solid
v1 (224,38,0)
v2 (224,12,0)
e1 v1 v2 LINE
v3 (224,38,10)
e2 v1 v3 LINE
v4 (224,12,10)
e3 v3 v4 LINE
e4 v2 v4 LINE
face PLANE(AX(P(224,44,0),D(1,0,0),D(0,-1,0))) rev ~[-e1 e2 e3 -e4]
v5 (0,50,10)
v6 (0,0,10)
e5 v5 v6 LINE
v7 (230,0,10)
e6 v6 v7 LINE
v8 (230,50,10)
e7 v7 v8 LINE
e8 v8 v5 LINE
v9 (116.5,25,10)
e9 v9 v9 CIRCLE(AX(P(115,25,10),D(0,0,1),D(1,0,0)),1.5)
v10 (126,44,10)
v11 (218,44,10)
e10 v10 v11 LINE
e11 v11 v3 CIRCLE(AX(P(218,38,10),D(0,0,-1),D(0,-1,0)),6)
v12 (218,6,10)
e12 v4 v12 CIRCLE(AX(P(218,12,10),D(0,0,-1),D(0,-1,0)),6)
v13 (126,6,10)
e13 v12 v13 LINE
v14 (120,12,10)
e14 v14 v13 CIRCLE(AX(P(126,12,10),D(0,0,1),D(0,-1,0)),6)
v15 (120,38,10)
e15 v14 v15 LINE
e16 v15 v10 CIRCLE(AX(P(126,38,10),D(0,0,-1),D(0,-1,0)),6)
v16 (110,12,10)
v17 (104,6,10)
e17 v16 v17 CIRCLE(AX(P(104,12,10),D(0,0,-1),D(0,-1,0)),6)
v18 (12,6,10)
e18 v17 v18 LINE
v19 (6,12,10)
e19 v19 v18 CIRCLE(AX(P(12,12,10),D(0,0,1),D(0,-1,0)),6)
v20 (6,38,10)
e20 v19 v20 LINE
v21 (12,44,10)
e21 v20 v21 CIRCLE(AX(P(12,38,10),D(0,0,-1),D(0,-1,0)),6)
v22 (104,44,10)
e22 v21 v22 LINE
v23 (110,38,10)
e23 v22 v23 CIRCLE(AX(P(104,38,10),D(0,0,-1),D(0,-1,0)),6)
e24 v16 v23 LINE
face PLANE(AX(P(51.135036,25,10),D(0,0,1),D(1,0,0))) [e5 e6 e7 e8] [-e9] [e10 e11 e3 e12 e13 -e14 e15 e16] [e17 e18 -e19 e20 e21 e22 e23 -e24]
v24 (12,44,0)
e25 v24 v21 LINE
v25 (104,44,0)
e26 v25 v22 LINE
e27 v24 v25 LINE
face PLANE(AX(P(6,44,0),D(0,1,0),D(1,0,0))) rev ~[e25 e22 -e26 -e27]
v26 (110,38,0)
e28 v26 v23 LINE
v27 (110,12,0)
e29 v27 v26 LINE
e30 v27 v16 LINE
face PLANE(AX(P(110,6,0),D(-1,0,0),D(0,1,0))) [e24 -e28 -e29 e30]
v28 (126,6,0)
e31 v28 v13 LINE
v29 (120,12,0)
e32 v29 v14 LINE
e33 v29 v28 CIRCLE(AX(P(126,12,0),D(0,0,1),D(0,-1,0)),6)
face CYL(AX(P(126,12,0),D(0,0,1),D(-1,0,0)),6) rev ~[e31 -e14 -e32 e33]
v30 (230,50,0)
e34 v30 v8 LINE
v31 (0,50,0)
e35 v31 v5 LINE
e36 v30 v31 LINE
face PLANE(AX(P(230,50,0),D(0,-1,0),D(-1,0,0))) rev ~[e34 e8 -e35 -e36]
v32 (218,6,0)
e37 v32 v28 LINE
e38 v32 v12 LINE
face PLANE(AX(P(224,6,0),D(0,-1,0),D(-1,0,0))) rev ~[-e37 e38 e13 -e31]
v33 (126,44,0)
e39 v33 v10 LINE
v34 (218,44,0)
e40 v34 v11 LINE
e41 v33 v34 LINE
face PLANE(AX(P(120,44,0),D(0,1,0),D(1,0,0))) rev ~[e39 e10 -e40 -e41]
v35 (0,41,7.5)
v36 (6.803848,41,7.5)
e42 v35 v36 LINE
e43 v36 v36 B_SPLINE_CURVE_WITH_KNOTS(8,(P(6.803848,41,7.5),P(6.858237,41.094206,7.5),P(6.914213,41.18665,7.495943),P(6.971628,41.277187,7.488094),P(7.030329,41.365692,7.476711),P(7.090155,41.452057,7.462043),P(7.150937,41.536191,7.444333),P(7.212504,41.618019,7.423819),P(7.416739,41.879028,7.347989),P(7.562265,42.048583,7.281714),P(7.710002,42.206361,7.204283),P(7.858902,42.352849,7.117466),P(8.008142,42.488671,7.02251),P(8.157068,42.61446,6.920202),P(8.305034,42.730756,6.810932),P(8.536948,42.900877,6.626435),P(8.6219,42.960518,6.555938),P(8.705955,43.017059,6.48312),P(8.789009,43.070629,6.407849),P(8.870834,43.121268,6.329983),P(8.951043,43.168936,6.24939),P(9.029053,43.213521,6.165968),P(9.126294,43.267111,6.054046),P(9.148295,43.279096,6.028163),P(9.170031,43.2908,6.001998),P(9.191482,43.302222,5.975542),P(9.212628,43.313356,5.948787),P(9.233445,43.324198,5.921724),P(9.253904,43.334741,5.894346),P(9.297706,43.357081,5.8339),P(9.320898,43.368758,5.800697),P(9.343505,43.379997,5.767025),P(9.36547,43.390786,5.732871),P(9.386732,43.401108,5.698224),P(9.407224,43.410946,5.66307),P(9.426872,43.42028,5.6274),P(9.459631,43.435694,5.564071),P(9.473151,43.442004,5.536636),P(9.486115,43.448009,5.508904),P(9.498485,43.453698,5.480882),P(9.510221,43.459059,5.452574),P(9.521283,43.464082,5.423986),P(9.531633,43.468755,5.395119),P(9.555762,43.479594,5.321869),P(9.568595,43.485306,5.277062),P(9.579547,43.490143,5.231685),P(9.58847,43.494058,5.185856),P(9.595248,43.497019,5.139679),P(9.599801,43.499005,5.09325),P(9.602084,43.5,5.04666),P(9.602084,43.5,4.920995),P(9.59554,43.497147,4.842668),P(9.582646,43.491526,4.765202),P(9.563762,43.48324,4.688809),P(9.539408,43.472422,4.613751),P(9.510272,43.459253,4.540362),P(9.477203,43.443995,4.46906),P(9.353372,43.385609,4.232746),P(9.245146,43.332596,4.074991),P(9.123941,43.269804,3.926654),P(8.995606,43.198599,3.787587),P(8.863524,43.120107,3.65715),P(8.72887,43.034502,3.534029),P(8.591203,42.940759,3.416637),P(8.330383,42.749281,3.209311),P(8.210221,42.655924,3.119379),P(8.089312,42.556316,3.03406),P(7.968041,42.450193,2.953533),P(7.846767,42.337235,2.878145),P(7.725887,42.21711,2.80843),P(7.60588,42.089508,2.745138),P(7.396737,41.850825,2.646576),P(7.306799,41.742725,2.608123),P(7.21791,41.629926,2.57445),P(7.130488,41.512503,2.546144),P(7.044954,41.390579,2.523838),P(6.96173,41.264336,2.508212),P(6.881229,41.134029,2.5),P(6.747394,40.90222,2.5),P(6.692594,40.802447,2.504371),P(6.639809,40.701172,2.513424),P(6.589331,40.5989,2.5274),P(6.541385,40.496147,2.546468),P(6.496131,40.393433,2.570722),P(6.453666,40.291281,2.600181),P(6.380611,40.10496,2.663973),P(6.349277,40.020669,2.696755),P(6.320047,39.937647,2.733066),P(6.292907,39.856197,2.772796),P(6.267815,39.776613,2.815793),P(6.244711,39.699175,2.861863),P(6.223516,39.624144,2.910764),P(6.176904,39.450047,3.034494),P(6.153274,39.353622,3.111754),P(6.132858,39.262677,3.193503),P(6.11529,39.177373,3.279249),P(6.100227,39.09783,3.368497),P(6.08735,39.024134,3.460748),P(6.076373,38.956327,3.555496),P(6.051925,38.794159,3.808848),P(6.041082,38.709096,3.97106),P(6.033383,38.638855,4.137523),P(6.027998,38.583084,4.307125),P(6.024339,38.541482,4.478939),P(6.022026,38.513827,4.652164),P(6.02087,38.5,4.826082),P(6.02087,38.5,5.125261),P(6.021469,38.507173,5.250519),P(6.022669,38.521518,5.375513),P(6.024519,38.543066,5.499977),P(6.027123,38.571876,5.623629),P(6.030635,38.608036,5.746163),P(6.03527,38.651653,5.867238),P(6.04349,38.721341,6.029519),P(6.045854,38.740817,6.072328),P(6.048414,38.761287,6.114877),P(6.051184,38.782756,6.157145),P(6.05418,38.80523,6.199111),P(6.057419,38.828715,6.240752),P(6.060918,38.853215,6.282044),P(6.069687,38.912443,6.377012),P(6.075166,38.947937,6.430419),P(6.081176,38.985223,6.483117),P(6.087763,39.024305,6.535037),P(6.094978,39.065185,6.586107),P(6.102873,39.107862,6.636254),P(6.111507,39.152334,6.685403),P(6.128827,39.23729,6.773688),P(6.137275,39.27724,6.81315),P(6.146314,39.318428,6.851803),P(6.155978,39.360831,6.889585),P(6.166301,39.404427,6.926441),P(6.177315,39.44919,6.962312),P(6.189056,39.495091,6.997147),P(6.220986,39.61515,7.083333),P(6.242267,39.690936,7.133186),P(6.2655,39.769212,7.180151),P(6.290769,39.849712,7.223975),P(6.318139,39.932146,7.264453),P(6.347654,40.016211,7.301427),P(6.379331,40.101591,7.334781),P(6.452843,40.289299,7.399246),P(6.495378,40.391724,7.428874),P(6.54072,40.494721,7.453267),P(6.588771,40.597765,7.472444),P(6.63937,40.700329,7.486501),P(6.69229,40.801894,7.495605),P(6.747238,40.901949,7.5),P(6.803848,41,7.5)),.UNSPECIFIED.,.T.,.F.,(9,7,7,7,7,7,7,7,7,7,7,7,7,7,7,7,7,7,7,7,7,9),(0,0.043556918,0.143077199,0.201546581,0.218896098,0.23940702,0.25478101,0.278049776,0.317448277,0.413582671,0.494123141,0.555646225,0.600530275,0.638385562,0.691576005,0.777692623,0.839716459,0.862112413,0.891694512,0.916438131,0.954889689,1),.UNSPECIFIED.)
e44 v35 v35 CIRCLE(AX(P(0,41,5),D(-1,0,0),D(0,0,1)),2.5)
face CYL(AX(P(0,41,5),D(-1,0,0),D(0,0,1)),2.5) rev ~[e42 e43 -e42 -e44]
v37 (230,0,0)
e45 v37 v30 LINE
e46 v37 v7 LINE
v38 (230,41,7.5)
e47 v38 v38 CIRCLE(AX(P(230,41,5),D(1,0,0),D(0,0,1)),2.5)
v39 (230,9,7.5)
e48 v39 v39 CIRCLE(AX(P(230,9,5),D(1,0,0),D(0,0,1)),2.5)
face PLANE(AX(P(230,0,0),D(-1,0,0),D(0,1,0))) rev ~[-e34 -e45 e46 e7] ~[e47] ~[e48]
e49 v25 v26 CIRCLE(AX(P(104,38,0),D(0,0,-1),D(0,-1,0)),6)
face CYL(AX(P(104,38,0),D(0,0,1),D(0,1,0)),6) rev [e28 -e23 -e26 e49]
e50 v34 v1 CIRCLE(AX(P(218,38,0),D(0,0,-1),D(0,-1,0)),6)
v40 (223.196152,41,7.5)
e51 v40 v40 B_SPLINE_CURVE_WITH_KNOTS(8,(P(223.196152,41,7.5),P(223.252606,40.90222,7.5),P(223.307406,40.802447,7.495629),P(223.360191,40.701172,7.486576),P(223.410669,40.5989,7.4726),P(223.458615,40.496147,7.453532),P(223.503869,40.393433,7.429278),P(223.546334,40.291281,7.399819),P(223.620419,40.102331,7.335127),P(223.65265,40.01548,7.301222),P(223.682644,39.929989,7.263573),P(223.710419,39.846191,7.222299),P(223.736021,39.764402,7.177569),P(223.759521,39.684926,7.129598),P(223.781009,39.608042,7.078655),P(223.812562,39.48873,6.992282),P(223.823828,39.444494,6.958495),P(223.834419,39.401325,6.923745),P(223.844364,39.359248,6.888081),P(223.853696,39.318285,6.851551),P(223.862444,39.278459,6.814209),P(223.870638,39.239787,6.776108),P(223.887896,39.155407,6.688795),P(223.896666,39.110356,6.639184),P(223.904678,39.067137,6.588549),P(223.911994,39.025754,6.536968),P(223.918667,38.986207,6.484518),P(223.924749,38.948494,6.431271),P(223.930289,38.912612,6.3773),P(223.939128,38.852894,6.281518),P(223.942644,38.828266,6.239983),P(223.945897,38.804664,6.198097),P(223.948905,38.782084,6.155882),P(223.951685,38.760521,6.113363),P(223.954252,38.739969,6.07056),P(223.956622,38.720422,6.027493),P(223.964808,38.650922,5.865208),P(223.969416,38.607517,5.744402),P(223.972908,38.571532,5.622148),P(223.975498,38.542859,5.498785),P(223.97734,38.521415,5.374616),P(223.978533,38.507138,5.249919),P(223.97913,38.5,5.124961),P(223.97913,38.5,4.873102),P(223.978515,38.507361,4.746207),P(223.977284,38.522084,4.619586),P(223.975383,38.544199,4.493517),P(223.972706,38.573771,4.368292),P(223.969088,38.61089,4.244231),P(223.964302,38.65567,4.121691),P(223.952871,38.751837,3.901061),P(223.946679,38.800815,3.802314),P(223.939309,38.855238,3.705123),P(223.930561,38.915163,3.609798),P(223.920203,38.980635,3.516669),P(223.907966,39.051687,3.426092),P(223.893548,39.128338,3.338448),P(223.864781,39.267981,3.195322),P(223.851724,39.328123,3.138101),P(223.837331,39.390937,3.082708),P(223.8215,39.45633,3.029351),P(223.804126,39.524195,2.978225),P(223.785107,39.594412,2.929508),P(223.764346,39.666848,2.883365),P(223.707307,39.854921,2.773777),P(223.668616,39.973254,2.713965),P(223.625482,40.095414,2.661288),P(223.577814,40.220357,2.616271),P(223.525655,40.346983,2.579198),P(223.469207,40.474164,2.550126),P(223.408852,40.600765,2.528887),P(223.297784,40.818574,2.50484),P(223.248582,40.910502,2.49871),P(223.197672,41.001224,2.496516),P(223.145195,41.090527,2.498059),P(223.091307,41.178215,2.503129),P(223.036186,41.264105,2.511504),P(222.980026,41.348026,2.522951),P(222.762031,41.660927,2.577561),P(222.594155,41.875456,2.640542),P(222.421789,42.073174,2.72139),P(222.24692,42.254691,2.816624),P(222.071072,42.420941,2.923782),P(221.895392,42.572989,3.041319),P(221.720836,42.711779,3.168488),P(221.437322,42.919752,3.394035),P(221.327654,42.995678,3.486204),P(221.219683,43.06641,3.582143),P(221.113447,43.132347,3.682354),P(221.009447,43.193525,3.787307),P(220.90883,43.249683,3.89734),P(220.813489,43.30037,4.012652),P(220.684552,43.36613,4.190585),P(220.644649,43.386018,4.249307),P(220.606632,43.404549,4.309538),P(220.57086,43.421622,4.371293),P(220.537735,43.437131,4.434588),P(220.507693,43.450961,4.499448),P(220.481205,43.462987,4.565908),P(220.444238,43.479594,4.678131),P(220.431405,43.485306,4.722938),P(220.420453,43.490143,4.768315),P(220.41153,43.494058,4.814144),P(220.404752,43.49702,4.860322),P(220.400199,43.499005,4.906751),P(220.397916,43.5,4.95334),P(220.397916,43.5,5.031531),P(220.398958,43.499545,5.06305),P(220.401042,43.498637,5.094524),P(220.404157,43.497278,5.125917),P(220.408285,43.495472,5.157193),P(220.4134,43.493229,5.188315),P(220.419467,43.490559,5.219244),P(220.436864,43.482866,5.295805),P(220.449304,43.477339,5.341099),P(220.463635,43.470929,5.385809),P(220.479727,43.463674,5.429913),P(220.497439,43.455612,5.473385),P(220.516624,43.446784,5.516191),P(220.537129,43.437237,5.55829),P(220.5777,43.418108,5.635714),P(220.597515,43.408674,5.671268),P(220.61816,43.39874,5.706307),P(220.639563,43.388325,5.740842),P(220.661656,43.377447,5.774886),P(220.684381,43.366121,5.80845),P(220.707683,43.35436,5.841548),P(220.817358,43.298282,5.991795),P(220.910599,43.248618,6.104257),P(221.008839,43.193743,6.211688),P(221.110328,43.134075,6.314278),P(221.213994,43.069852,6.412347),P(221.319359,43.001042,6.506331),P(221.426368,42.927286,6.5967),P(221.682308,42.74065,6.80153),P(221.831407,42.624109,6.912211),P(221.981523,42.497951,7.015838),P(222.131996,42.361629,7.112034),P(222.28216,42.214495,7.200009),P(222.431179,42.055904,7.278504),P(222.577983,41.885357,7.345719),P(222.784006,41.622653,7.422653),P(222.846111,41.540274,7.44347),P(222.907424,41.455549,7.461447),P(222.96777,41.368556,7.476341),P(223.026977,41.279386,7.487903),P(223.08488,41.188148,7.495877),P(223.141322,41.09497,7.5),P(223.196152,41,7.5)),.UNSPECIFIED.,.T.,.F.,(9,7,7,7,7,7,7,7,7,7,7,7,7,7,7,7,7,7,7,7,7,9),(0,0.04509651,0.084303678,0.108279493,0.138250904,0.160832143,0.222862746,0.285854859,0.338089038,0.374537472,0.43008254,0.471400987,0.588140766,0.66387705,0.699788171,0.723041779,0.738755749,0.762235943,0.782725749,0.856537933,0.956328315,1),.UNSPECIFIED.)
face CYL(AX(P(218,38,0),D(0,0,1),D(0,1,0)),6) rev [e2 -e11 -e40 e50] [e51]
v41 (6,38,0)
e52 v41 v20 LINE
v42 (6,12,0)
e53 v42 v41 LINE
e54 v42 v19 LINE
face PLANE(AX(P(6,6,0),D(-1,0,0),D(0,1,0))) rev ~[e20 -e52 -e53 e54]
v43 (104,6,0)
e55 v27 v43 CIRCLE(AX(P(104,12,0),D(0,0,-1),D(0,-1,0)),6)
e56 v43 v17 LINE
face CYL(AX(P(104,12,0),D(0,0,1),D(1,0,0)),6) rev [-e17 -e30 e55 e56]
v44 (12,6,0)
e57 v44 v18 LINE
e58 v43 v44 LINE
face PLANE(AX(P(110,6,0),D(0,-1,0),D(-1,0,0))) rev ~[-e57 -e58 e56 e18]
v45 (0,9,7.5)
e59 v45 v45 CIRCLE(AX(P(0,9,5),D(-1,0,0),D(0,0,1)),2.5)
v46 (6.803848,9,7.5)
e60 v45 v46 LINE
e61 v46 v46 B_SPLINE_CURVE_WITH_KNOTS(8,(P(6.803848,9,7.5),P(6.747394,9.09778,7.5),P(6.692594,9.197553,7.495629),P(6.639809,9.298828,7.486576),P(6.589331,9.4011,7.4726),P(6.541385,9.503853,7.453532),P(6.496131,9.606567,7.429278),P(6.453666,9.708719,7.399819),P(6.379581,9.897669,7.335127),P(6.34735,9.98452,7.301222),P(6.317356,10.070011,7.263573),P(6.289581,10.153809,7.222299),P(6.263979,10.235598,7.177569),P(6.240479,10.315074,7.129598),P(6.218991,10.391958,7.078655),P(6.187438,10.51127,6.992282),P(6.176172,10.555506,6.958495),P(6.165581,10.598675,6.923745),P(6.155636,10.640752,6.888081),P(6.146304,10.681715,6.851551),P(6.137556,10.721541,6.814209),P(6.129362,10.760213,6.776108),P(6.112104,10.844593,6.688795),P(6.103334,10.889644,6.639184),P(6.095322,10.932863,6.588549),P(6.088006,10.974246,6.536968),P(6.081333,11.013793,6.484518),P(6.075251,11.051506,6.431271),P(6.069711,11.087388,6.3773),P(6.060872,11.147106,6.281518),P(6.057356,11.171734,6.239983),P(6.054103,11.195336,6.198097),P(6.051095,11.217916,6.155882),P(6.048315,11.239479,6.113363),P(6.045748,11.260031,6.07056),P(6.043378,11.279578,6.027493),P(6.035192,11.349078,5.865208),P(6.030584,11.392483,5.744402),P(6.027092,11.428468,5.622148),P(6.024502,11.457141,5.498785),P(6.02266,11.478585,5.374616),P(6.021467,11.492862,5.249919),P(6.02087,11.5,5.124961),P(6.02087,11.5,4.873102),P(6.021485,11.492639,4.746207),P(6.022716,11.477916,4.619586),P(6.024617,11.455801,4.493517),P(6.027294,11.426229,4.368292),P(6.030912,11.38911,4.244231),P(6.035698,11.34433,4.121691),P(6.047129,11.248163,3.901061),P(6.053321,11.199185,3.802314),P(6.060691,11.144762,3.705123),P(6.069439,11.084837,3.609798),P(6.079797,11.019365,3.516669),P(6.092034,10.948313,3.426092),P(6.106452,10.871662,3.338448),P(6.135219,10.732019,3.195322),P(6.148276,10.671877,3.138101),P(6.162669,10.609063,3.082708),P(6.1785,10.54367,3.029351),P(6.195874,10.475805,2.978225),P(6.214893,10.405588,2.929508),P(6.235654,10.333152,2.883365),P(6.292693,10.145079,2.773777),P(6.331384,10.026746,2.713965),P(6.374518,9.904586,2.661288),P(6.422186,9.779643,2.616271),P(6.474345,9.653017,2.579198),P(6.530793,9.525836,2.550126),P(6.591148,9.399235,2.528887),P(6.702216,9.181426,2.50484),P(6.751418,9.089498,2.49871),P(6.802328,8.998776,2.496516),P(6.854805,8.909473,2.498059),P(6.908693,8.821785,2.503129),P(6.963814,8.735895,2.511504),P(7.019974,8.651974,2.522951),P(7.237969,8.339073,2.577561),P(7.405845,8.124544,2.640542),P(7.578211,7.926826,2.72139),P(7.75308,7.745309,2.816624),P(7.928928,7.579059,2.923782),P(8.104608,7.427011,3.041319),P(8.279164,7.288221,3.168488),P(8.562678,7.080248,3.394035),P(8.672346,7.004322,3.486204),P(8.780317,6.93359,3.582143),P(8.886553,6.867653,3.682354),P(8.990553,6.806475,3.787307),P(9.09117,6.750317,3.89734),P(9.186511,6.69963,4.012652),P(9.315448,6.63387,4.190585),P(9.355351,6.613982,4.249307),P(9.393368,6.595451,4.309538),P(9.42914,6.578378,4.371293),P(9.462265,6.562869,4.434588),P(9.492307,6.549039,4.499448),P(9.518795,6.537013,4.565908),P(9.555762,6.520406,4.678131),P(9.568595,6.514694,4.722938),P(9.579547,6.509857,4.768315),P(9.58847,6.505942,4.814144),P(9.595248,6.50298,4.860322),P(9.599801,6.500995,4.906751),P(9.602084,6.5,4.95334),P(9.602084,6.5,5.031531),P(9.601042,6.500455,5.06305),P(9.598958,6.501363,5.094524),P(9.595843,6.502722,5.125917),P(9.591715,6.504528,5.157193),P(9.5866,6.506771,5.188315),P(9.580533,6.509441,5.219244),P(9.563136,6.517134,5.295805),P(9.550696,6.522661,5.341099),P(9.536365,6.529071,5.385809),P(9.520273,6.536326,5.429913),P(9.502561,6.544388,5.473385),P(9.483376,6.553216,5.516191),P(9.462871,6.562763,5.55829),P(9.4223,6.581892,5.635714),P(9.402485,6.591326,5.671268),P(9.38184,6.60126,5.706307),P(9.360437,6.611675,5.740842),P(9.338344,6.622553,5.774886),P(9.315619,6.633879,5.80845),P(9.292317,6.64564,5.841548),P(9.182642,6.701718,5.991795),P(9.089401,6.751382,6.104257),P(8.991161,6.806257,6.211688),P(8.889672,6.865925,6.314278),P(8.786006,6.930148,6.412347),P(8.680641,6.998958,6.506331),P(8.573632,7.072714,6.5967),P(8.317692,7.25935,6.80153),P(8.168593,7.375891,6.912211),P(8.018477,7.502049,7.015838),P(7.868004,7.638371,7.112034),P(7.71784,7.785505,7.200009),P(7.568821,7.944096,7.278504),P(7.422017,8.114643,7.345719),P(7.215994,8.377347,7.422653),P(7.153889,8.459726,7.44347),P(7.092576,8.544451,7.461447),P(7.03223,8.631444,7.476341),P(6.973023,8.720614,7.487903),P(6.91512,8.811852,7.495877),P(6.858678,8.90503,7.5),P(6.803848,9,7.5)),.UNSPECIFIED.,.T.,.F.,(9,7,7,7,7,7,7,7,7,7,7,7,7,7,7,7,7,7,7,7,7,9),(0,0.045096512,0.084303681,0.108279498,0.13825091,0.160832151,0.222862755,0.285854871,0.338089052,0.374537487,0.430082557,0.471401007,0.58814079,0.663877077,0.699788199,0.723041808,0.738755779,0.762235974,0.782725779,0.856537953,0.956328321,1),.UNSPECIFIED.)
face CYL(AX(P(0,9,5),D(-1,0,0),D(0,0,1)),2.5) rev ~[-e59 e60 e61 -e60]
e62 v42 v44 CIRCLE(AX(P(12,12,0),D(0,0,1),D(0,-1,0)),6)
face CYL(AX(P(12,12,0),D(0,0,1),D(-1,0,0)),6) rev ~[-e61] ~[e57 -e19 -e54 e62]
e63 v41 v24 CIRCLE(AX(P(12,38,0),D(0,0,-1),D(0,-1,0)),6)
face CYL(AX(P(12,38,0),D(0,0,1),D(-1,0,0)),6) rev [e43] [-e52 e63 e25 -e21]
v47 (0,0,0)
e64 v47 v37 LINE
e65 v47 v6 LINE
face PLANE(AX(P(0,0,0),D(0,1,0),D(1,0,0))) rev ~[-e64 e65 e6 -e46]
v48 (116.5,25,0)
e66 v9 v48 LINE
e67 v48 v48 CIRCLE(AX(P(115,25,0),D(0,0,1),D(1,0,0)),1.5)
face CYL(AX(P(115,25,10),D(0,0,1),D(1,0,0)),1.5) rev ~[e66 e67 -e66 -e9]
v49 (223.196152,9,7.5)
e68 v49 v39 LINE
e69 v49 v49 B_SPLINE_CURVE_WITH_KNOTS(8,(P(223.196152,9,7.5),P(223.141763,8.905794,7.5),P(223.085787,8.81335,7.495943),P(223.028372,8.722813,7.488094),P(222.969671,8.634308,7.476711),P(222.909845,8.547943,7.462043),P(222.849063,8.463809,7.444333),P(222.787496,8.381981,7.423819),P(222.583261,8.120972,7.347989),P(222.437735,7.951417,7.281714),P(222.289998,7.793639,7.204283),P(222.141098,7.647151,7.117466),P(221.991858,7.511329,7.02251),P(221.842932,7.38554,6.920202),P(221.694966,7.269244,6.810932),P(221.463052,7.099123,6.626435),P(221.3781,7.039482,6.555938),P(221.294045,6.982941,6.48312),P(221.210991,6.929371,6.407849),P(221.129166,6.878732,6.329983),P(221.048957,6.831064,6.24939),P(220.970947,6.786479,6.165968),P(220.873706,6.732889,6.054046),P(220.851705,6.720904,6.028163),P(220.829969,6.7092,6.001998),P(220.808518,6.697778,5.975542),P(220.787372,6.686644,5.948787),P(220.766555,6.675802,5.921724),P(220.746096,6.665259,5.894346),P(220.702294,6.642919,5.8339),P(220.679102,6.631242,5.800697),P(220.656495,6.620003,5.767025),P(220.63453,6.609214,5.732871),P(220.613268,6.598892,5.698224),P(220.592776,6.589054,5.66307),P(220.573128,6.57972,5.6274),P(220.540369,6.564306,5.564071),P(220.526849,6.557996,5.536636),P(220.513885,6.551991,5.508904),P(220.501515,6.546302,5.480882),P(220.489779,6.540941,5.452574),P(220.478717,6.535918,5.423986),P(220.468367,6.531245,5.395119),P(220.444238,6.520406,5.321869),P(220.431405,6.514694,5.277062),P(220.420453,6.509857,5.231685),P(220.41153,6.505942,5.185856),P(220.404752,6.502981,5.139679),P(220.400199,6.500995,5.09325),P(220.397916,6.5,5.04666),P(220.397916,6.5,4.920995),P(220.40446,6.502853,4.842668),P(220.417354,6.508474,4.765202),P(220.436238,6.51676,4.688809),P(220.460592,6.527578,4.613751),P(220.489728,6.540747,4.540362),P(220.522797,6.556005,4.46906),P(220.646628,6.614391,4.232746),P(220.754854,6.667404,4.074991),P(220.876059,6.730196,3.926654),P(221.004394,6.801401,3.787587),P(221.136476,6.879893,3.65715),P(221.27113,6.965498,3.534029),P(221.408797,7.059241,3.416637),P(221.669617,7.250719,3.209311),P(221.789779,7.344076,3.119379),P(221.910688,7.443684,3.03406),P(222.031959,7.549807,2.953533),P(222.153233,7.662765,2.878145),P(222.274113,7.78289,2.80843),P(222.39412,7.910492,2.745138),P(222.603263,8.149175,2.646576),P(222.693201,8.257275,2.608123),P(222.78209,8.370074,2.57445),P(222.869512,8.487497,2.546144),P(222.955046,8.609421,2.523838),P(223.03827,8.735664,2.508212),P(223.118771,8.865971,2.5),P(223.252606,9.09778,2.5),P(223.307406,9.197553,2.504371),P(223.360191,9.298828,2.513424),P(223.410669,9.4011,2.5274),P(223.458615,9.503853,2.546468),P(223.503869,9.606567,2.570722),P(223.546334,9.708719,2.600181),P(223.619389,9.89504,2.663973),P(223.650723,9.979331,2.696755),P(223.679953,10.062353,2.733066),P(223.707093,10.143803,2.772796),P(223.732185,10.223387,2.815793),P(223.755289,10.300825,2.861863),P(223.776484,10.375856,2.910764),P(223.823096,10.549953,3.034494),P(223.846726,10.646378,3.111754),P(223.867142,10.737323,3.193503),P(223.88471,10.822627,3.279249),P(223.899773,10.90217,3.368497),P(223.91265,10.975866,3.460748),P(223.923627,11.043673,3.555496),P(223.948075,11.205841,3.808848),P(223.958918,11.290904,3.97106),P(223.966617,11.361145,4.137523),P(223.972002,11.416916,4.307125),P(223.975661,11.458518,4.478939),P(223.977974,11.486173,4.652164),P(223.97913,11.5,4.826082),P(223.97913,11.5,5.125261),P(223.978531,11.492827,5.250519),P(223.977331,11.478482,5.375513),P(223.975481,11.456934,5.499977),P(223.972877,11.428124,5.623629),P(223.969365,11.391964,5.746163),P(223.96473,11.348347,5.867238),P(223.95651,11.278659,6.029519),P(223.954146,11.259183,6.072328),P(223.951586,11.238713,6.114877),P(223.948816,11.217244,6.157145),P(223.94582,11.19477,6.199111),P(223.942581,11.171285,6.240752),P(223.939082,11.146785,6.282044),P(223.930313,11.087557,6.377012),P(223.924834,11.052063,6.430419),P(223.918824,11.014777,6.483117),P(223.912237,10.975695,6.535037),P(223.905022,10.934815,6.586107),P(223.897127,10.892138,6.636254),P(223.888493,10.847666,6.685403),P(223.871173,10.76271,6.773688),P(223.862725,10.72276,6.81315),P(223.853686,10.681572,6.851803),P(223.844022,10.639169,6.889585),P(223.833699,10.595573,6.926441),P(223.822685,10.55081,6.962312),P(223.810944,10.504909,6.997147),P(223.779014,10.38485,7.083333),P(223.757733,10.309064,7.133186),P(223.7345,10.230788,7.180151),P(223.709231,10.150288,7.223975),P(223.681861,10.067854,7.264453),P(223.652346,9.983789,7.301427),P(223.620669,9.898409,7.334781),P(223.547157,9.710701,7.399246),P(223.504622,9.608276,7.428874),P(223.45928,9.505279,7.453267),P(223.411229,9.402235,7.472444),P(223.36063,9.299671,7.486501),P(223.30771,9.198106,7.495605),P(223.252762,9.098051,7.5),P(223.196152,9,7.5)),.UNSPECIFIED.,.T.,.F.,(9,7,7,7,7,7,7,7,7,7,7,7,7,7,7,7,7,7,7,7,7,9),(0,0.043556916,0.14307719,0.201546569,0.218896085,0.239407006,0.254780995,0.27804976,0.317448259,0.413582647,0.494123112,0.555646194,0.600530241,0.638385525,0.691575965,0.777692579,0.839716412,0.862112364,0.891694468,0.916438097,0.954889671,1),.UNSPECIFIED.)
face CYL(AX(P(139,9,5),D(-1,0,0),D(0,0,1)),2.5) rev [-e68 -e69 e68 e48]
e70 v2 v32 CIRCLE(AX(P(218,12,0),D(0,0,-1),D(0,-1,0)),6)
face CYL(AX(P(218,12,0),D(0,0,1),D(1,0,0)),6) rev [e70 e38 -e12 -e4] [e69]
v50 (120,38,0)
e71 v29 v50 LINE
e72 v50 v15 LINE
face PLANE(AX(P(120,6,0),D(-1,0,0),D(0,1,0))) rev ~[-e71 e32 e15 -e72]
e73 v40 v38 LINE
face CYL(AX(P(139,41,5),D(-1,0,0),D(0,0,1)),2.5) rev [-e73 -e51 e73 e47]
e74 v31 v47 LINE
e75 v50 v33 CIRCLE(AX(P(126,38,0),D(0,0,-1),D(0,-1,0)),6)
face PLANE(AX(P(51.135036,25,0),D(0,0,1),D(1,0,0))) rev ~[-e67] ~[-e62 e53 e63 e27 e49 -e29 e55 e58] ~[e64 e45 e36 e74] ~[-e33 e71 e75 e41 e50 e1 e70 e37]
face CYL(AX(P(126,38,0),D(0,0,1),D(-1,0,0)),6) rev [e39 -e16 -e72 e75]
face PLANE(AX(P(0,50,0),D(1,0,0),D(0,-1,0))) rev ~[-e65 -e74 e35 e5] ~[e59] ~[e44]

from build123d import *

# Parameters (mm, degrees)
SKETCH_1_W          = 5
SKETCH_1_H          = 38
EXTRUDE_1_DEPTH     = 10
FILLET_1_R          = 6
SKETCH_8_R          = 2.5
CUT_EXTRUDE_4_DEPTH = 91
CUT_EXTRUDE_START   = -91
SKETCH_10_R         = 2.5
CUT_EXTRUDE_5_DEPTH = 91
SKETCH_15_R         = 1.5
CUT_EXTRUDE_9_DEPTH = 10


with BuildPart() as part:
    # 草图1 → 凸台-拉伸1 (new body)
    with BuildSketch(Plane.XY):
        Polygon((6, 6), (6, 44), (110, 44), (115, 44), (115, 50), (0, 50), (0, 0), (115, 0), (115, 6), (110, 6), align=None)
        with Locations((117.5, 25)):
            Rectangle(SKETCH_1_W, SKETCH_1_H)
        with Locations((112.5, 25)):
            Rectangle(SKETCH_1_W, SKETCH_1_H)
        Polygon((115, 50), (115, 44), (120, 44), (224, 44), (224, 6), (120, 6), (115, 6), (115, 0), (230, 0), (230, 50), align=None)
    extrude(amount=EXTRUDE_1_DEPTH)

    # 圆角1
    fillet_1_edges = [part.edges().sort_by_distance(p)[0] for p in [
        (110, 44, 5),
        (6, 44, 5),
        (6, 6, 5),
        (110, 6, 5),
        (120, 6, 5),
        (224, 6, 5),
        (224, 44, 5),
        (120, 44, 5),
    ]]
    fillet(fillet_1_edges, radius=FILLET_1_R)

    # 草图8 → 切除-拉伸4 (cut)
    with BuildSketch(Plane.ZY):
        with Locations((5, 41)):
            Circle(SKETCH_8_R)
        with Locations((5, 9)):
            Circle(SKETCH_8_R)
    extrude(amount=-CUT_EXTRUDE_4_DEPTH, mode=Mode.SUBTRACT)

    # 草图10 → 切除-拉伸5 (cut)
    with BuildSketch(Plane(origin=(230, 0, 0), x_dir=(0, 0, -1), z_dir=(1, 0, 0)).offset(CUT_EXTRUDE_START)):
        with Locations(Location((-5, 41, 0), (0, 0, 180))):
            Circle(SKETCH_10_R)
        with Locations(Location((-5, 9, 0), (0, 0, 180))):
            Circle(SKETCH_10_R)
    extrude(amount=CUT_EXTRUDE_5_DEPTH, mode=Mode.SUBTRACT)

    # 草图15 → 切除-拉伸9 (cut)
    with BuildSketch(Plane.XY.offset(10)):
        with Locations((115, 25)):
            Circle(SKETCH_15_R)
    extrude(amount=-CUT_EXTRUDE_9_DEPTH, mode=Mode.SUBTRACT)


solid = part.part
